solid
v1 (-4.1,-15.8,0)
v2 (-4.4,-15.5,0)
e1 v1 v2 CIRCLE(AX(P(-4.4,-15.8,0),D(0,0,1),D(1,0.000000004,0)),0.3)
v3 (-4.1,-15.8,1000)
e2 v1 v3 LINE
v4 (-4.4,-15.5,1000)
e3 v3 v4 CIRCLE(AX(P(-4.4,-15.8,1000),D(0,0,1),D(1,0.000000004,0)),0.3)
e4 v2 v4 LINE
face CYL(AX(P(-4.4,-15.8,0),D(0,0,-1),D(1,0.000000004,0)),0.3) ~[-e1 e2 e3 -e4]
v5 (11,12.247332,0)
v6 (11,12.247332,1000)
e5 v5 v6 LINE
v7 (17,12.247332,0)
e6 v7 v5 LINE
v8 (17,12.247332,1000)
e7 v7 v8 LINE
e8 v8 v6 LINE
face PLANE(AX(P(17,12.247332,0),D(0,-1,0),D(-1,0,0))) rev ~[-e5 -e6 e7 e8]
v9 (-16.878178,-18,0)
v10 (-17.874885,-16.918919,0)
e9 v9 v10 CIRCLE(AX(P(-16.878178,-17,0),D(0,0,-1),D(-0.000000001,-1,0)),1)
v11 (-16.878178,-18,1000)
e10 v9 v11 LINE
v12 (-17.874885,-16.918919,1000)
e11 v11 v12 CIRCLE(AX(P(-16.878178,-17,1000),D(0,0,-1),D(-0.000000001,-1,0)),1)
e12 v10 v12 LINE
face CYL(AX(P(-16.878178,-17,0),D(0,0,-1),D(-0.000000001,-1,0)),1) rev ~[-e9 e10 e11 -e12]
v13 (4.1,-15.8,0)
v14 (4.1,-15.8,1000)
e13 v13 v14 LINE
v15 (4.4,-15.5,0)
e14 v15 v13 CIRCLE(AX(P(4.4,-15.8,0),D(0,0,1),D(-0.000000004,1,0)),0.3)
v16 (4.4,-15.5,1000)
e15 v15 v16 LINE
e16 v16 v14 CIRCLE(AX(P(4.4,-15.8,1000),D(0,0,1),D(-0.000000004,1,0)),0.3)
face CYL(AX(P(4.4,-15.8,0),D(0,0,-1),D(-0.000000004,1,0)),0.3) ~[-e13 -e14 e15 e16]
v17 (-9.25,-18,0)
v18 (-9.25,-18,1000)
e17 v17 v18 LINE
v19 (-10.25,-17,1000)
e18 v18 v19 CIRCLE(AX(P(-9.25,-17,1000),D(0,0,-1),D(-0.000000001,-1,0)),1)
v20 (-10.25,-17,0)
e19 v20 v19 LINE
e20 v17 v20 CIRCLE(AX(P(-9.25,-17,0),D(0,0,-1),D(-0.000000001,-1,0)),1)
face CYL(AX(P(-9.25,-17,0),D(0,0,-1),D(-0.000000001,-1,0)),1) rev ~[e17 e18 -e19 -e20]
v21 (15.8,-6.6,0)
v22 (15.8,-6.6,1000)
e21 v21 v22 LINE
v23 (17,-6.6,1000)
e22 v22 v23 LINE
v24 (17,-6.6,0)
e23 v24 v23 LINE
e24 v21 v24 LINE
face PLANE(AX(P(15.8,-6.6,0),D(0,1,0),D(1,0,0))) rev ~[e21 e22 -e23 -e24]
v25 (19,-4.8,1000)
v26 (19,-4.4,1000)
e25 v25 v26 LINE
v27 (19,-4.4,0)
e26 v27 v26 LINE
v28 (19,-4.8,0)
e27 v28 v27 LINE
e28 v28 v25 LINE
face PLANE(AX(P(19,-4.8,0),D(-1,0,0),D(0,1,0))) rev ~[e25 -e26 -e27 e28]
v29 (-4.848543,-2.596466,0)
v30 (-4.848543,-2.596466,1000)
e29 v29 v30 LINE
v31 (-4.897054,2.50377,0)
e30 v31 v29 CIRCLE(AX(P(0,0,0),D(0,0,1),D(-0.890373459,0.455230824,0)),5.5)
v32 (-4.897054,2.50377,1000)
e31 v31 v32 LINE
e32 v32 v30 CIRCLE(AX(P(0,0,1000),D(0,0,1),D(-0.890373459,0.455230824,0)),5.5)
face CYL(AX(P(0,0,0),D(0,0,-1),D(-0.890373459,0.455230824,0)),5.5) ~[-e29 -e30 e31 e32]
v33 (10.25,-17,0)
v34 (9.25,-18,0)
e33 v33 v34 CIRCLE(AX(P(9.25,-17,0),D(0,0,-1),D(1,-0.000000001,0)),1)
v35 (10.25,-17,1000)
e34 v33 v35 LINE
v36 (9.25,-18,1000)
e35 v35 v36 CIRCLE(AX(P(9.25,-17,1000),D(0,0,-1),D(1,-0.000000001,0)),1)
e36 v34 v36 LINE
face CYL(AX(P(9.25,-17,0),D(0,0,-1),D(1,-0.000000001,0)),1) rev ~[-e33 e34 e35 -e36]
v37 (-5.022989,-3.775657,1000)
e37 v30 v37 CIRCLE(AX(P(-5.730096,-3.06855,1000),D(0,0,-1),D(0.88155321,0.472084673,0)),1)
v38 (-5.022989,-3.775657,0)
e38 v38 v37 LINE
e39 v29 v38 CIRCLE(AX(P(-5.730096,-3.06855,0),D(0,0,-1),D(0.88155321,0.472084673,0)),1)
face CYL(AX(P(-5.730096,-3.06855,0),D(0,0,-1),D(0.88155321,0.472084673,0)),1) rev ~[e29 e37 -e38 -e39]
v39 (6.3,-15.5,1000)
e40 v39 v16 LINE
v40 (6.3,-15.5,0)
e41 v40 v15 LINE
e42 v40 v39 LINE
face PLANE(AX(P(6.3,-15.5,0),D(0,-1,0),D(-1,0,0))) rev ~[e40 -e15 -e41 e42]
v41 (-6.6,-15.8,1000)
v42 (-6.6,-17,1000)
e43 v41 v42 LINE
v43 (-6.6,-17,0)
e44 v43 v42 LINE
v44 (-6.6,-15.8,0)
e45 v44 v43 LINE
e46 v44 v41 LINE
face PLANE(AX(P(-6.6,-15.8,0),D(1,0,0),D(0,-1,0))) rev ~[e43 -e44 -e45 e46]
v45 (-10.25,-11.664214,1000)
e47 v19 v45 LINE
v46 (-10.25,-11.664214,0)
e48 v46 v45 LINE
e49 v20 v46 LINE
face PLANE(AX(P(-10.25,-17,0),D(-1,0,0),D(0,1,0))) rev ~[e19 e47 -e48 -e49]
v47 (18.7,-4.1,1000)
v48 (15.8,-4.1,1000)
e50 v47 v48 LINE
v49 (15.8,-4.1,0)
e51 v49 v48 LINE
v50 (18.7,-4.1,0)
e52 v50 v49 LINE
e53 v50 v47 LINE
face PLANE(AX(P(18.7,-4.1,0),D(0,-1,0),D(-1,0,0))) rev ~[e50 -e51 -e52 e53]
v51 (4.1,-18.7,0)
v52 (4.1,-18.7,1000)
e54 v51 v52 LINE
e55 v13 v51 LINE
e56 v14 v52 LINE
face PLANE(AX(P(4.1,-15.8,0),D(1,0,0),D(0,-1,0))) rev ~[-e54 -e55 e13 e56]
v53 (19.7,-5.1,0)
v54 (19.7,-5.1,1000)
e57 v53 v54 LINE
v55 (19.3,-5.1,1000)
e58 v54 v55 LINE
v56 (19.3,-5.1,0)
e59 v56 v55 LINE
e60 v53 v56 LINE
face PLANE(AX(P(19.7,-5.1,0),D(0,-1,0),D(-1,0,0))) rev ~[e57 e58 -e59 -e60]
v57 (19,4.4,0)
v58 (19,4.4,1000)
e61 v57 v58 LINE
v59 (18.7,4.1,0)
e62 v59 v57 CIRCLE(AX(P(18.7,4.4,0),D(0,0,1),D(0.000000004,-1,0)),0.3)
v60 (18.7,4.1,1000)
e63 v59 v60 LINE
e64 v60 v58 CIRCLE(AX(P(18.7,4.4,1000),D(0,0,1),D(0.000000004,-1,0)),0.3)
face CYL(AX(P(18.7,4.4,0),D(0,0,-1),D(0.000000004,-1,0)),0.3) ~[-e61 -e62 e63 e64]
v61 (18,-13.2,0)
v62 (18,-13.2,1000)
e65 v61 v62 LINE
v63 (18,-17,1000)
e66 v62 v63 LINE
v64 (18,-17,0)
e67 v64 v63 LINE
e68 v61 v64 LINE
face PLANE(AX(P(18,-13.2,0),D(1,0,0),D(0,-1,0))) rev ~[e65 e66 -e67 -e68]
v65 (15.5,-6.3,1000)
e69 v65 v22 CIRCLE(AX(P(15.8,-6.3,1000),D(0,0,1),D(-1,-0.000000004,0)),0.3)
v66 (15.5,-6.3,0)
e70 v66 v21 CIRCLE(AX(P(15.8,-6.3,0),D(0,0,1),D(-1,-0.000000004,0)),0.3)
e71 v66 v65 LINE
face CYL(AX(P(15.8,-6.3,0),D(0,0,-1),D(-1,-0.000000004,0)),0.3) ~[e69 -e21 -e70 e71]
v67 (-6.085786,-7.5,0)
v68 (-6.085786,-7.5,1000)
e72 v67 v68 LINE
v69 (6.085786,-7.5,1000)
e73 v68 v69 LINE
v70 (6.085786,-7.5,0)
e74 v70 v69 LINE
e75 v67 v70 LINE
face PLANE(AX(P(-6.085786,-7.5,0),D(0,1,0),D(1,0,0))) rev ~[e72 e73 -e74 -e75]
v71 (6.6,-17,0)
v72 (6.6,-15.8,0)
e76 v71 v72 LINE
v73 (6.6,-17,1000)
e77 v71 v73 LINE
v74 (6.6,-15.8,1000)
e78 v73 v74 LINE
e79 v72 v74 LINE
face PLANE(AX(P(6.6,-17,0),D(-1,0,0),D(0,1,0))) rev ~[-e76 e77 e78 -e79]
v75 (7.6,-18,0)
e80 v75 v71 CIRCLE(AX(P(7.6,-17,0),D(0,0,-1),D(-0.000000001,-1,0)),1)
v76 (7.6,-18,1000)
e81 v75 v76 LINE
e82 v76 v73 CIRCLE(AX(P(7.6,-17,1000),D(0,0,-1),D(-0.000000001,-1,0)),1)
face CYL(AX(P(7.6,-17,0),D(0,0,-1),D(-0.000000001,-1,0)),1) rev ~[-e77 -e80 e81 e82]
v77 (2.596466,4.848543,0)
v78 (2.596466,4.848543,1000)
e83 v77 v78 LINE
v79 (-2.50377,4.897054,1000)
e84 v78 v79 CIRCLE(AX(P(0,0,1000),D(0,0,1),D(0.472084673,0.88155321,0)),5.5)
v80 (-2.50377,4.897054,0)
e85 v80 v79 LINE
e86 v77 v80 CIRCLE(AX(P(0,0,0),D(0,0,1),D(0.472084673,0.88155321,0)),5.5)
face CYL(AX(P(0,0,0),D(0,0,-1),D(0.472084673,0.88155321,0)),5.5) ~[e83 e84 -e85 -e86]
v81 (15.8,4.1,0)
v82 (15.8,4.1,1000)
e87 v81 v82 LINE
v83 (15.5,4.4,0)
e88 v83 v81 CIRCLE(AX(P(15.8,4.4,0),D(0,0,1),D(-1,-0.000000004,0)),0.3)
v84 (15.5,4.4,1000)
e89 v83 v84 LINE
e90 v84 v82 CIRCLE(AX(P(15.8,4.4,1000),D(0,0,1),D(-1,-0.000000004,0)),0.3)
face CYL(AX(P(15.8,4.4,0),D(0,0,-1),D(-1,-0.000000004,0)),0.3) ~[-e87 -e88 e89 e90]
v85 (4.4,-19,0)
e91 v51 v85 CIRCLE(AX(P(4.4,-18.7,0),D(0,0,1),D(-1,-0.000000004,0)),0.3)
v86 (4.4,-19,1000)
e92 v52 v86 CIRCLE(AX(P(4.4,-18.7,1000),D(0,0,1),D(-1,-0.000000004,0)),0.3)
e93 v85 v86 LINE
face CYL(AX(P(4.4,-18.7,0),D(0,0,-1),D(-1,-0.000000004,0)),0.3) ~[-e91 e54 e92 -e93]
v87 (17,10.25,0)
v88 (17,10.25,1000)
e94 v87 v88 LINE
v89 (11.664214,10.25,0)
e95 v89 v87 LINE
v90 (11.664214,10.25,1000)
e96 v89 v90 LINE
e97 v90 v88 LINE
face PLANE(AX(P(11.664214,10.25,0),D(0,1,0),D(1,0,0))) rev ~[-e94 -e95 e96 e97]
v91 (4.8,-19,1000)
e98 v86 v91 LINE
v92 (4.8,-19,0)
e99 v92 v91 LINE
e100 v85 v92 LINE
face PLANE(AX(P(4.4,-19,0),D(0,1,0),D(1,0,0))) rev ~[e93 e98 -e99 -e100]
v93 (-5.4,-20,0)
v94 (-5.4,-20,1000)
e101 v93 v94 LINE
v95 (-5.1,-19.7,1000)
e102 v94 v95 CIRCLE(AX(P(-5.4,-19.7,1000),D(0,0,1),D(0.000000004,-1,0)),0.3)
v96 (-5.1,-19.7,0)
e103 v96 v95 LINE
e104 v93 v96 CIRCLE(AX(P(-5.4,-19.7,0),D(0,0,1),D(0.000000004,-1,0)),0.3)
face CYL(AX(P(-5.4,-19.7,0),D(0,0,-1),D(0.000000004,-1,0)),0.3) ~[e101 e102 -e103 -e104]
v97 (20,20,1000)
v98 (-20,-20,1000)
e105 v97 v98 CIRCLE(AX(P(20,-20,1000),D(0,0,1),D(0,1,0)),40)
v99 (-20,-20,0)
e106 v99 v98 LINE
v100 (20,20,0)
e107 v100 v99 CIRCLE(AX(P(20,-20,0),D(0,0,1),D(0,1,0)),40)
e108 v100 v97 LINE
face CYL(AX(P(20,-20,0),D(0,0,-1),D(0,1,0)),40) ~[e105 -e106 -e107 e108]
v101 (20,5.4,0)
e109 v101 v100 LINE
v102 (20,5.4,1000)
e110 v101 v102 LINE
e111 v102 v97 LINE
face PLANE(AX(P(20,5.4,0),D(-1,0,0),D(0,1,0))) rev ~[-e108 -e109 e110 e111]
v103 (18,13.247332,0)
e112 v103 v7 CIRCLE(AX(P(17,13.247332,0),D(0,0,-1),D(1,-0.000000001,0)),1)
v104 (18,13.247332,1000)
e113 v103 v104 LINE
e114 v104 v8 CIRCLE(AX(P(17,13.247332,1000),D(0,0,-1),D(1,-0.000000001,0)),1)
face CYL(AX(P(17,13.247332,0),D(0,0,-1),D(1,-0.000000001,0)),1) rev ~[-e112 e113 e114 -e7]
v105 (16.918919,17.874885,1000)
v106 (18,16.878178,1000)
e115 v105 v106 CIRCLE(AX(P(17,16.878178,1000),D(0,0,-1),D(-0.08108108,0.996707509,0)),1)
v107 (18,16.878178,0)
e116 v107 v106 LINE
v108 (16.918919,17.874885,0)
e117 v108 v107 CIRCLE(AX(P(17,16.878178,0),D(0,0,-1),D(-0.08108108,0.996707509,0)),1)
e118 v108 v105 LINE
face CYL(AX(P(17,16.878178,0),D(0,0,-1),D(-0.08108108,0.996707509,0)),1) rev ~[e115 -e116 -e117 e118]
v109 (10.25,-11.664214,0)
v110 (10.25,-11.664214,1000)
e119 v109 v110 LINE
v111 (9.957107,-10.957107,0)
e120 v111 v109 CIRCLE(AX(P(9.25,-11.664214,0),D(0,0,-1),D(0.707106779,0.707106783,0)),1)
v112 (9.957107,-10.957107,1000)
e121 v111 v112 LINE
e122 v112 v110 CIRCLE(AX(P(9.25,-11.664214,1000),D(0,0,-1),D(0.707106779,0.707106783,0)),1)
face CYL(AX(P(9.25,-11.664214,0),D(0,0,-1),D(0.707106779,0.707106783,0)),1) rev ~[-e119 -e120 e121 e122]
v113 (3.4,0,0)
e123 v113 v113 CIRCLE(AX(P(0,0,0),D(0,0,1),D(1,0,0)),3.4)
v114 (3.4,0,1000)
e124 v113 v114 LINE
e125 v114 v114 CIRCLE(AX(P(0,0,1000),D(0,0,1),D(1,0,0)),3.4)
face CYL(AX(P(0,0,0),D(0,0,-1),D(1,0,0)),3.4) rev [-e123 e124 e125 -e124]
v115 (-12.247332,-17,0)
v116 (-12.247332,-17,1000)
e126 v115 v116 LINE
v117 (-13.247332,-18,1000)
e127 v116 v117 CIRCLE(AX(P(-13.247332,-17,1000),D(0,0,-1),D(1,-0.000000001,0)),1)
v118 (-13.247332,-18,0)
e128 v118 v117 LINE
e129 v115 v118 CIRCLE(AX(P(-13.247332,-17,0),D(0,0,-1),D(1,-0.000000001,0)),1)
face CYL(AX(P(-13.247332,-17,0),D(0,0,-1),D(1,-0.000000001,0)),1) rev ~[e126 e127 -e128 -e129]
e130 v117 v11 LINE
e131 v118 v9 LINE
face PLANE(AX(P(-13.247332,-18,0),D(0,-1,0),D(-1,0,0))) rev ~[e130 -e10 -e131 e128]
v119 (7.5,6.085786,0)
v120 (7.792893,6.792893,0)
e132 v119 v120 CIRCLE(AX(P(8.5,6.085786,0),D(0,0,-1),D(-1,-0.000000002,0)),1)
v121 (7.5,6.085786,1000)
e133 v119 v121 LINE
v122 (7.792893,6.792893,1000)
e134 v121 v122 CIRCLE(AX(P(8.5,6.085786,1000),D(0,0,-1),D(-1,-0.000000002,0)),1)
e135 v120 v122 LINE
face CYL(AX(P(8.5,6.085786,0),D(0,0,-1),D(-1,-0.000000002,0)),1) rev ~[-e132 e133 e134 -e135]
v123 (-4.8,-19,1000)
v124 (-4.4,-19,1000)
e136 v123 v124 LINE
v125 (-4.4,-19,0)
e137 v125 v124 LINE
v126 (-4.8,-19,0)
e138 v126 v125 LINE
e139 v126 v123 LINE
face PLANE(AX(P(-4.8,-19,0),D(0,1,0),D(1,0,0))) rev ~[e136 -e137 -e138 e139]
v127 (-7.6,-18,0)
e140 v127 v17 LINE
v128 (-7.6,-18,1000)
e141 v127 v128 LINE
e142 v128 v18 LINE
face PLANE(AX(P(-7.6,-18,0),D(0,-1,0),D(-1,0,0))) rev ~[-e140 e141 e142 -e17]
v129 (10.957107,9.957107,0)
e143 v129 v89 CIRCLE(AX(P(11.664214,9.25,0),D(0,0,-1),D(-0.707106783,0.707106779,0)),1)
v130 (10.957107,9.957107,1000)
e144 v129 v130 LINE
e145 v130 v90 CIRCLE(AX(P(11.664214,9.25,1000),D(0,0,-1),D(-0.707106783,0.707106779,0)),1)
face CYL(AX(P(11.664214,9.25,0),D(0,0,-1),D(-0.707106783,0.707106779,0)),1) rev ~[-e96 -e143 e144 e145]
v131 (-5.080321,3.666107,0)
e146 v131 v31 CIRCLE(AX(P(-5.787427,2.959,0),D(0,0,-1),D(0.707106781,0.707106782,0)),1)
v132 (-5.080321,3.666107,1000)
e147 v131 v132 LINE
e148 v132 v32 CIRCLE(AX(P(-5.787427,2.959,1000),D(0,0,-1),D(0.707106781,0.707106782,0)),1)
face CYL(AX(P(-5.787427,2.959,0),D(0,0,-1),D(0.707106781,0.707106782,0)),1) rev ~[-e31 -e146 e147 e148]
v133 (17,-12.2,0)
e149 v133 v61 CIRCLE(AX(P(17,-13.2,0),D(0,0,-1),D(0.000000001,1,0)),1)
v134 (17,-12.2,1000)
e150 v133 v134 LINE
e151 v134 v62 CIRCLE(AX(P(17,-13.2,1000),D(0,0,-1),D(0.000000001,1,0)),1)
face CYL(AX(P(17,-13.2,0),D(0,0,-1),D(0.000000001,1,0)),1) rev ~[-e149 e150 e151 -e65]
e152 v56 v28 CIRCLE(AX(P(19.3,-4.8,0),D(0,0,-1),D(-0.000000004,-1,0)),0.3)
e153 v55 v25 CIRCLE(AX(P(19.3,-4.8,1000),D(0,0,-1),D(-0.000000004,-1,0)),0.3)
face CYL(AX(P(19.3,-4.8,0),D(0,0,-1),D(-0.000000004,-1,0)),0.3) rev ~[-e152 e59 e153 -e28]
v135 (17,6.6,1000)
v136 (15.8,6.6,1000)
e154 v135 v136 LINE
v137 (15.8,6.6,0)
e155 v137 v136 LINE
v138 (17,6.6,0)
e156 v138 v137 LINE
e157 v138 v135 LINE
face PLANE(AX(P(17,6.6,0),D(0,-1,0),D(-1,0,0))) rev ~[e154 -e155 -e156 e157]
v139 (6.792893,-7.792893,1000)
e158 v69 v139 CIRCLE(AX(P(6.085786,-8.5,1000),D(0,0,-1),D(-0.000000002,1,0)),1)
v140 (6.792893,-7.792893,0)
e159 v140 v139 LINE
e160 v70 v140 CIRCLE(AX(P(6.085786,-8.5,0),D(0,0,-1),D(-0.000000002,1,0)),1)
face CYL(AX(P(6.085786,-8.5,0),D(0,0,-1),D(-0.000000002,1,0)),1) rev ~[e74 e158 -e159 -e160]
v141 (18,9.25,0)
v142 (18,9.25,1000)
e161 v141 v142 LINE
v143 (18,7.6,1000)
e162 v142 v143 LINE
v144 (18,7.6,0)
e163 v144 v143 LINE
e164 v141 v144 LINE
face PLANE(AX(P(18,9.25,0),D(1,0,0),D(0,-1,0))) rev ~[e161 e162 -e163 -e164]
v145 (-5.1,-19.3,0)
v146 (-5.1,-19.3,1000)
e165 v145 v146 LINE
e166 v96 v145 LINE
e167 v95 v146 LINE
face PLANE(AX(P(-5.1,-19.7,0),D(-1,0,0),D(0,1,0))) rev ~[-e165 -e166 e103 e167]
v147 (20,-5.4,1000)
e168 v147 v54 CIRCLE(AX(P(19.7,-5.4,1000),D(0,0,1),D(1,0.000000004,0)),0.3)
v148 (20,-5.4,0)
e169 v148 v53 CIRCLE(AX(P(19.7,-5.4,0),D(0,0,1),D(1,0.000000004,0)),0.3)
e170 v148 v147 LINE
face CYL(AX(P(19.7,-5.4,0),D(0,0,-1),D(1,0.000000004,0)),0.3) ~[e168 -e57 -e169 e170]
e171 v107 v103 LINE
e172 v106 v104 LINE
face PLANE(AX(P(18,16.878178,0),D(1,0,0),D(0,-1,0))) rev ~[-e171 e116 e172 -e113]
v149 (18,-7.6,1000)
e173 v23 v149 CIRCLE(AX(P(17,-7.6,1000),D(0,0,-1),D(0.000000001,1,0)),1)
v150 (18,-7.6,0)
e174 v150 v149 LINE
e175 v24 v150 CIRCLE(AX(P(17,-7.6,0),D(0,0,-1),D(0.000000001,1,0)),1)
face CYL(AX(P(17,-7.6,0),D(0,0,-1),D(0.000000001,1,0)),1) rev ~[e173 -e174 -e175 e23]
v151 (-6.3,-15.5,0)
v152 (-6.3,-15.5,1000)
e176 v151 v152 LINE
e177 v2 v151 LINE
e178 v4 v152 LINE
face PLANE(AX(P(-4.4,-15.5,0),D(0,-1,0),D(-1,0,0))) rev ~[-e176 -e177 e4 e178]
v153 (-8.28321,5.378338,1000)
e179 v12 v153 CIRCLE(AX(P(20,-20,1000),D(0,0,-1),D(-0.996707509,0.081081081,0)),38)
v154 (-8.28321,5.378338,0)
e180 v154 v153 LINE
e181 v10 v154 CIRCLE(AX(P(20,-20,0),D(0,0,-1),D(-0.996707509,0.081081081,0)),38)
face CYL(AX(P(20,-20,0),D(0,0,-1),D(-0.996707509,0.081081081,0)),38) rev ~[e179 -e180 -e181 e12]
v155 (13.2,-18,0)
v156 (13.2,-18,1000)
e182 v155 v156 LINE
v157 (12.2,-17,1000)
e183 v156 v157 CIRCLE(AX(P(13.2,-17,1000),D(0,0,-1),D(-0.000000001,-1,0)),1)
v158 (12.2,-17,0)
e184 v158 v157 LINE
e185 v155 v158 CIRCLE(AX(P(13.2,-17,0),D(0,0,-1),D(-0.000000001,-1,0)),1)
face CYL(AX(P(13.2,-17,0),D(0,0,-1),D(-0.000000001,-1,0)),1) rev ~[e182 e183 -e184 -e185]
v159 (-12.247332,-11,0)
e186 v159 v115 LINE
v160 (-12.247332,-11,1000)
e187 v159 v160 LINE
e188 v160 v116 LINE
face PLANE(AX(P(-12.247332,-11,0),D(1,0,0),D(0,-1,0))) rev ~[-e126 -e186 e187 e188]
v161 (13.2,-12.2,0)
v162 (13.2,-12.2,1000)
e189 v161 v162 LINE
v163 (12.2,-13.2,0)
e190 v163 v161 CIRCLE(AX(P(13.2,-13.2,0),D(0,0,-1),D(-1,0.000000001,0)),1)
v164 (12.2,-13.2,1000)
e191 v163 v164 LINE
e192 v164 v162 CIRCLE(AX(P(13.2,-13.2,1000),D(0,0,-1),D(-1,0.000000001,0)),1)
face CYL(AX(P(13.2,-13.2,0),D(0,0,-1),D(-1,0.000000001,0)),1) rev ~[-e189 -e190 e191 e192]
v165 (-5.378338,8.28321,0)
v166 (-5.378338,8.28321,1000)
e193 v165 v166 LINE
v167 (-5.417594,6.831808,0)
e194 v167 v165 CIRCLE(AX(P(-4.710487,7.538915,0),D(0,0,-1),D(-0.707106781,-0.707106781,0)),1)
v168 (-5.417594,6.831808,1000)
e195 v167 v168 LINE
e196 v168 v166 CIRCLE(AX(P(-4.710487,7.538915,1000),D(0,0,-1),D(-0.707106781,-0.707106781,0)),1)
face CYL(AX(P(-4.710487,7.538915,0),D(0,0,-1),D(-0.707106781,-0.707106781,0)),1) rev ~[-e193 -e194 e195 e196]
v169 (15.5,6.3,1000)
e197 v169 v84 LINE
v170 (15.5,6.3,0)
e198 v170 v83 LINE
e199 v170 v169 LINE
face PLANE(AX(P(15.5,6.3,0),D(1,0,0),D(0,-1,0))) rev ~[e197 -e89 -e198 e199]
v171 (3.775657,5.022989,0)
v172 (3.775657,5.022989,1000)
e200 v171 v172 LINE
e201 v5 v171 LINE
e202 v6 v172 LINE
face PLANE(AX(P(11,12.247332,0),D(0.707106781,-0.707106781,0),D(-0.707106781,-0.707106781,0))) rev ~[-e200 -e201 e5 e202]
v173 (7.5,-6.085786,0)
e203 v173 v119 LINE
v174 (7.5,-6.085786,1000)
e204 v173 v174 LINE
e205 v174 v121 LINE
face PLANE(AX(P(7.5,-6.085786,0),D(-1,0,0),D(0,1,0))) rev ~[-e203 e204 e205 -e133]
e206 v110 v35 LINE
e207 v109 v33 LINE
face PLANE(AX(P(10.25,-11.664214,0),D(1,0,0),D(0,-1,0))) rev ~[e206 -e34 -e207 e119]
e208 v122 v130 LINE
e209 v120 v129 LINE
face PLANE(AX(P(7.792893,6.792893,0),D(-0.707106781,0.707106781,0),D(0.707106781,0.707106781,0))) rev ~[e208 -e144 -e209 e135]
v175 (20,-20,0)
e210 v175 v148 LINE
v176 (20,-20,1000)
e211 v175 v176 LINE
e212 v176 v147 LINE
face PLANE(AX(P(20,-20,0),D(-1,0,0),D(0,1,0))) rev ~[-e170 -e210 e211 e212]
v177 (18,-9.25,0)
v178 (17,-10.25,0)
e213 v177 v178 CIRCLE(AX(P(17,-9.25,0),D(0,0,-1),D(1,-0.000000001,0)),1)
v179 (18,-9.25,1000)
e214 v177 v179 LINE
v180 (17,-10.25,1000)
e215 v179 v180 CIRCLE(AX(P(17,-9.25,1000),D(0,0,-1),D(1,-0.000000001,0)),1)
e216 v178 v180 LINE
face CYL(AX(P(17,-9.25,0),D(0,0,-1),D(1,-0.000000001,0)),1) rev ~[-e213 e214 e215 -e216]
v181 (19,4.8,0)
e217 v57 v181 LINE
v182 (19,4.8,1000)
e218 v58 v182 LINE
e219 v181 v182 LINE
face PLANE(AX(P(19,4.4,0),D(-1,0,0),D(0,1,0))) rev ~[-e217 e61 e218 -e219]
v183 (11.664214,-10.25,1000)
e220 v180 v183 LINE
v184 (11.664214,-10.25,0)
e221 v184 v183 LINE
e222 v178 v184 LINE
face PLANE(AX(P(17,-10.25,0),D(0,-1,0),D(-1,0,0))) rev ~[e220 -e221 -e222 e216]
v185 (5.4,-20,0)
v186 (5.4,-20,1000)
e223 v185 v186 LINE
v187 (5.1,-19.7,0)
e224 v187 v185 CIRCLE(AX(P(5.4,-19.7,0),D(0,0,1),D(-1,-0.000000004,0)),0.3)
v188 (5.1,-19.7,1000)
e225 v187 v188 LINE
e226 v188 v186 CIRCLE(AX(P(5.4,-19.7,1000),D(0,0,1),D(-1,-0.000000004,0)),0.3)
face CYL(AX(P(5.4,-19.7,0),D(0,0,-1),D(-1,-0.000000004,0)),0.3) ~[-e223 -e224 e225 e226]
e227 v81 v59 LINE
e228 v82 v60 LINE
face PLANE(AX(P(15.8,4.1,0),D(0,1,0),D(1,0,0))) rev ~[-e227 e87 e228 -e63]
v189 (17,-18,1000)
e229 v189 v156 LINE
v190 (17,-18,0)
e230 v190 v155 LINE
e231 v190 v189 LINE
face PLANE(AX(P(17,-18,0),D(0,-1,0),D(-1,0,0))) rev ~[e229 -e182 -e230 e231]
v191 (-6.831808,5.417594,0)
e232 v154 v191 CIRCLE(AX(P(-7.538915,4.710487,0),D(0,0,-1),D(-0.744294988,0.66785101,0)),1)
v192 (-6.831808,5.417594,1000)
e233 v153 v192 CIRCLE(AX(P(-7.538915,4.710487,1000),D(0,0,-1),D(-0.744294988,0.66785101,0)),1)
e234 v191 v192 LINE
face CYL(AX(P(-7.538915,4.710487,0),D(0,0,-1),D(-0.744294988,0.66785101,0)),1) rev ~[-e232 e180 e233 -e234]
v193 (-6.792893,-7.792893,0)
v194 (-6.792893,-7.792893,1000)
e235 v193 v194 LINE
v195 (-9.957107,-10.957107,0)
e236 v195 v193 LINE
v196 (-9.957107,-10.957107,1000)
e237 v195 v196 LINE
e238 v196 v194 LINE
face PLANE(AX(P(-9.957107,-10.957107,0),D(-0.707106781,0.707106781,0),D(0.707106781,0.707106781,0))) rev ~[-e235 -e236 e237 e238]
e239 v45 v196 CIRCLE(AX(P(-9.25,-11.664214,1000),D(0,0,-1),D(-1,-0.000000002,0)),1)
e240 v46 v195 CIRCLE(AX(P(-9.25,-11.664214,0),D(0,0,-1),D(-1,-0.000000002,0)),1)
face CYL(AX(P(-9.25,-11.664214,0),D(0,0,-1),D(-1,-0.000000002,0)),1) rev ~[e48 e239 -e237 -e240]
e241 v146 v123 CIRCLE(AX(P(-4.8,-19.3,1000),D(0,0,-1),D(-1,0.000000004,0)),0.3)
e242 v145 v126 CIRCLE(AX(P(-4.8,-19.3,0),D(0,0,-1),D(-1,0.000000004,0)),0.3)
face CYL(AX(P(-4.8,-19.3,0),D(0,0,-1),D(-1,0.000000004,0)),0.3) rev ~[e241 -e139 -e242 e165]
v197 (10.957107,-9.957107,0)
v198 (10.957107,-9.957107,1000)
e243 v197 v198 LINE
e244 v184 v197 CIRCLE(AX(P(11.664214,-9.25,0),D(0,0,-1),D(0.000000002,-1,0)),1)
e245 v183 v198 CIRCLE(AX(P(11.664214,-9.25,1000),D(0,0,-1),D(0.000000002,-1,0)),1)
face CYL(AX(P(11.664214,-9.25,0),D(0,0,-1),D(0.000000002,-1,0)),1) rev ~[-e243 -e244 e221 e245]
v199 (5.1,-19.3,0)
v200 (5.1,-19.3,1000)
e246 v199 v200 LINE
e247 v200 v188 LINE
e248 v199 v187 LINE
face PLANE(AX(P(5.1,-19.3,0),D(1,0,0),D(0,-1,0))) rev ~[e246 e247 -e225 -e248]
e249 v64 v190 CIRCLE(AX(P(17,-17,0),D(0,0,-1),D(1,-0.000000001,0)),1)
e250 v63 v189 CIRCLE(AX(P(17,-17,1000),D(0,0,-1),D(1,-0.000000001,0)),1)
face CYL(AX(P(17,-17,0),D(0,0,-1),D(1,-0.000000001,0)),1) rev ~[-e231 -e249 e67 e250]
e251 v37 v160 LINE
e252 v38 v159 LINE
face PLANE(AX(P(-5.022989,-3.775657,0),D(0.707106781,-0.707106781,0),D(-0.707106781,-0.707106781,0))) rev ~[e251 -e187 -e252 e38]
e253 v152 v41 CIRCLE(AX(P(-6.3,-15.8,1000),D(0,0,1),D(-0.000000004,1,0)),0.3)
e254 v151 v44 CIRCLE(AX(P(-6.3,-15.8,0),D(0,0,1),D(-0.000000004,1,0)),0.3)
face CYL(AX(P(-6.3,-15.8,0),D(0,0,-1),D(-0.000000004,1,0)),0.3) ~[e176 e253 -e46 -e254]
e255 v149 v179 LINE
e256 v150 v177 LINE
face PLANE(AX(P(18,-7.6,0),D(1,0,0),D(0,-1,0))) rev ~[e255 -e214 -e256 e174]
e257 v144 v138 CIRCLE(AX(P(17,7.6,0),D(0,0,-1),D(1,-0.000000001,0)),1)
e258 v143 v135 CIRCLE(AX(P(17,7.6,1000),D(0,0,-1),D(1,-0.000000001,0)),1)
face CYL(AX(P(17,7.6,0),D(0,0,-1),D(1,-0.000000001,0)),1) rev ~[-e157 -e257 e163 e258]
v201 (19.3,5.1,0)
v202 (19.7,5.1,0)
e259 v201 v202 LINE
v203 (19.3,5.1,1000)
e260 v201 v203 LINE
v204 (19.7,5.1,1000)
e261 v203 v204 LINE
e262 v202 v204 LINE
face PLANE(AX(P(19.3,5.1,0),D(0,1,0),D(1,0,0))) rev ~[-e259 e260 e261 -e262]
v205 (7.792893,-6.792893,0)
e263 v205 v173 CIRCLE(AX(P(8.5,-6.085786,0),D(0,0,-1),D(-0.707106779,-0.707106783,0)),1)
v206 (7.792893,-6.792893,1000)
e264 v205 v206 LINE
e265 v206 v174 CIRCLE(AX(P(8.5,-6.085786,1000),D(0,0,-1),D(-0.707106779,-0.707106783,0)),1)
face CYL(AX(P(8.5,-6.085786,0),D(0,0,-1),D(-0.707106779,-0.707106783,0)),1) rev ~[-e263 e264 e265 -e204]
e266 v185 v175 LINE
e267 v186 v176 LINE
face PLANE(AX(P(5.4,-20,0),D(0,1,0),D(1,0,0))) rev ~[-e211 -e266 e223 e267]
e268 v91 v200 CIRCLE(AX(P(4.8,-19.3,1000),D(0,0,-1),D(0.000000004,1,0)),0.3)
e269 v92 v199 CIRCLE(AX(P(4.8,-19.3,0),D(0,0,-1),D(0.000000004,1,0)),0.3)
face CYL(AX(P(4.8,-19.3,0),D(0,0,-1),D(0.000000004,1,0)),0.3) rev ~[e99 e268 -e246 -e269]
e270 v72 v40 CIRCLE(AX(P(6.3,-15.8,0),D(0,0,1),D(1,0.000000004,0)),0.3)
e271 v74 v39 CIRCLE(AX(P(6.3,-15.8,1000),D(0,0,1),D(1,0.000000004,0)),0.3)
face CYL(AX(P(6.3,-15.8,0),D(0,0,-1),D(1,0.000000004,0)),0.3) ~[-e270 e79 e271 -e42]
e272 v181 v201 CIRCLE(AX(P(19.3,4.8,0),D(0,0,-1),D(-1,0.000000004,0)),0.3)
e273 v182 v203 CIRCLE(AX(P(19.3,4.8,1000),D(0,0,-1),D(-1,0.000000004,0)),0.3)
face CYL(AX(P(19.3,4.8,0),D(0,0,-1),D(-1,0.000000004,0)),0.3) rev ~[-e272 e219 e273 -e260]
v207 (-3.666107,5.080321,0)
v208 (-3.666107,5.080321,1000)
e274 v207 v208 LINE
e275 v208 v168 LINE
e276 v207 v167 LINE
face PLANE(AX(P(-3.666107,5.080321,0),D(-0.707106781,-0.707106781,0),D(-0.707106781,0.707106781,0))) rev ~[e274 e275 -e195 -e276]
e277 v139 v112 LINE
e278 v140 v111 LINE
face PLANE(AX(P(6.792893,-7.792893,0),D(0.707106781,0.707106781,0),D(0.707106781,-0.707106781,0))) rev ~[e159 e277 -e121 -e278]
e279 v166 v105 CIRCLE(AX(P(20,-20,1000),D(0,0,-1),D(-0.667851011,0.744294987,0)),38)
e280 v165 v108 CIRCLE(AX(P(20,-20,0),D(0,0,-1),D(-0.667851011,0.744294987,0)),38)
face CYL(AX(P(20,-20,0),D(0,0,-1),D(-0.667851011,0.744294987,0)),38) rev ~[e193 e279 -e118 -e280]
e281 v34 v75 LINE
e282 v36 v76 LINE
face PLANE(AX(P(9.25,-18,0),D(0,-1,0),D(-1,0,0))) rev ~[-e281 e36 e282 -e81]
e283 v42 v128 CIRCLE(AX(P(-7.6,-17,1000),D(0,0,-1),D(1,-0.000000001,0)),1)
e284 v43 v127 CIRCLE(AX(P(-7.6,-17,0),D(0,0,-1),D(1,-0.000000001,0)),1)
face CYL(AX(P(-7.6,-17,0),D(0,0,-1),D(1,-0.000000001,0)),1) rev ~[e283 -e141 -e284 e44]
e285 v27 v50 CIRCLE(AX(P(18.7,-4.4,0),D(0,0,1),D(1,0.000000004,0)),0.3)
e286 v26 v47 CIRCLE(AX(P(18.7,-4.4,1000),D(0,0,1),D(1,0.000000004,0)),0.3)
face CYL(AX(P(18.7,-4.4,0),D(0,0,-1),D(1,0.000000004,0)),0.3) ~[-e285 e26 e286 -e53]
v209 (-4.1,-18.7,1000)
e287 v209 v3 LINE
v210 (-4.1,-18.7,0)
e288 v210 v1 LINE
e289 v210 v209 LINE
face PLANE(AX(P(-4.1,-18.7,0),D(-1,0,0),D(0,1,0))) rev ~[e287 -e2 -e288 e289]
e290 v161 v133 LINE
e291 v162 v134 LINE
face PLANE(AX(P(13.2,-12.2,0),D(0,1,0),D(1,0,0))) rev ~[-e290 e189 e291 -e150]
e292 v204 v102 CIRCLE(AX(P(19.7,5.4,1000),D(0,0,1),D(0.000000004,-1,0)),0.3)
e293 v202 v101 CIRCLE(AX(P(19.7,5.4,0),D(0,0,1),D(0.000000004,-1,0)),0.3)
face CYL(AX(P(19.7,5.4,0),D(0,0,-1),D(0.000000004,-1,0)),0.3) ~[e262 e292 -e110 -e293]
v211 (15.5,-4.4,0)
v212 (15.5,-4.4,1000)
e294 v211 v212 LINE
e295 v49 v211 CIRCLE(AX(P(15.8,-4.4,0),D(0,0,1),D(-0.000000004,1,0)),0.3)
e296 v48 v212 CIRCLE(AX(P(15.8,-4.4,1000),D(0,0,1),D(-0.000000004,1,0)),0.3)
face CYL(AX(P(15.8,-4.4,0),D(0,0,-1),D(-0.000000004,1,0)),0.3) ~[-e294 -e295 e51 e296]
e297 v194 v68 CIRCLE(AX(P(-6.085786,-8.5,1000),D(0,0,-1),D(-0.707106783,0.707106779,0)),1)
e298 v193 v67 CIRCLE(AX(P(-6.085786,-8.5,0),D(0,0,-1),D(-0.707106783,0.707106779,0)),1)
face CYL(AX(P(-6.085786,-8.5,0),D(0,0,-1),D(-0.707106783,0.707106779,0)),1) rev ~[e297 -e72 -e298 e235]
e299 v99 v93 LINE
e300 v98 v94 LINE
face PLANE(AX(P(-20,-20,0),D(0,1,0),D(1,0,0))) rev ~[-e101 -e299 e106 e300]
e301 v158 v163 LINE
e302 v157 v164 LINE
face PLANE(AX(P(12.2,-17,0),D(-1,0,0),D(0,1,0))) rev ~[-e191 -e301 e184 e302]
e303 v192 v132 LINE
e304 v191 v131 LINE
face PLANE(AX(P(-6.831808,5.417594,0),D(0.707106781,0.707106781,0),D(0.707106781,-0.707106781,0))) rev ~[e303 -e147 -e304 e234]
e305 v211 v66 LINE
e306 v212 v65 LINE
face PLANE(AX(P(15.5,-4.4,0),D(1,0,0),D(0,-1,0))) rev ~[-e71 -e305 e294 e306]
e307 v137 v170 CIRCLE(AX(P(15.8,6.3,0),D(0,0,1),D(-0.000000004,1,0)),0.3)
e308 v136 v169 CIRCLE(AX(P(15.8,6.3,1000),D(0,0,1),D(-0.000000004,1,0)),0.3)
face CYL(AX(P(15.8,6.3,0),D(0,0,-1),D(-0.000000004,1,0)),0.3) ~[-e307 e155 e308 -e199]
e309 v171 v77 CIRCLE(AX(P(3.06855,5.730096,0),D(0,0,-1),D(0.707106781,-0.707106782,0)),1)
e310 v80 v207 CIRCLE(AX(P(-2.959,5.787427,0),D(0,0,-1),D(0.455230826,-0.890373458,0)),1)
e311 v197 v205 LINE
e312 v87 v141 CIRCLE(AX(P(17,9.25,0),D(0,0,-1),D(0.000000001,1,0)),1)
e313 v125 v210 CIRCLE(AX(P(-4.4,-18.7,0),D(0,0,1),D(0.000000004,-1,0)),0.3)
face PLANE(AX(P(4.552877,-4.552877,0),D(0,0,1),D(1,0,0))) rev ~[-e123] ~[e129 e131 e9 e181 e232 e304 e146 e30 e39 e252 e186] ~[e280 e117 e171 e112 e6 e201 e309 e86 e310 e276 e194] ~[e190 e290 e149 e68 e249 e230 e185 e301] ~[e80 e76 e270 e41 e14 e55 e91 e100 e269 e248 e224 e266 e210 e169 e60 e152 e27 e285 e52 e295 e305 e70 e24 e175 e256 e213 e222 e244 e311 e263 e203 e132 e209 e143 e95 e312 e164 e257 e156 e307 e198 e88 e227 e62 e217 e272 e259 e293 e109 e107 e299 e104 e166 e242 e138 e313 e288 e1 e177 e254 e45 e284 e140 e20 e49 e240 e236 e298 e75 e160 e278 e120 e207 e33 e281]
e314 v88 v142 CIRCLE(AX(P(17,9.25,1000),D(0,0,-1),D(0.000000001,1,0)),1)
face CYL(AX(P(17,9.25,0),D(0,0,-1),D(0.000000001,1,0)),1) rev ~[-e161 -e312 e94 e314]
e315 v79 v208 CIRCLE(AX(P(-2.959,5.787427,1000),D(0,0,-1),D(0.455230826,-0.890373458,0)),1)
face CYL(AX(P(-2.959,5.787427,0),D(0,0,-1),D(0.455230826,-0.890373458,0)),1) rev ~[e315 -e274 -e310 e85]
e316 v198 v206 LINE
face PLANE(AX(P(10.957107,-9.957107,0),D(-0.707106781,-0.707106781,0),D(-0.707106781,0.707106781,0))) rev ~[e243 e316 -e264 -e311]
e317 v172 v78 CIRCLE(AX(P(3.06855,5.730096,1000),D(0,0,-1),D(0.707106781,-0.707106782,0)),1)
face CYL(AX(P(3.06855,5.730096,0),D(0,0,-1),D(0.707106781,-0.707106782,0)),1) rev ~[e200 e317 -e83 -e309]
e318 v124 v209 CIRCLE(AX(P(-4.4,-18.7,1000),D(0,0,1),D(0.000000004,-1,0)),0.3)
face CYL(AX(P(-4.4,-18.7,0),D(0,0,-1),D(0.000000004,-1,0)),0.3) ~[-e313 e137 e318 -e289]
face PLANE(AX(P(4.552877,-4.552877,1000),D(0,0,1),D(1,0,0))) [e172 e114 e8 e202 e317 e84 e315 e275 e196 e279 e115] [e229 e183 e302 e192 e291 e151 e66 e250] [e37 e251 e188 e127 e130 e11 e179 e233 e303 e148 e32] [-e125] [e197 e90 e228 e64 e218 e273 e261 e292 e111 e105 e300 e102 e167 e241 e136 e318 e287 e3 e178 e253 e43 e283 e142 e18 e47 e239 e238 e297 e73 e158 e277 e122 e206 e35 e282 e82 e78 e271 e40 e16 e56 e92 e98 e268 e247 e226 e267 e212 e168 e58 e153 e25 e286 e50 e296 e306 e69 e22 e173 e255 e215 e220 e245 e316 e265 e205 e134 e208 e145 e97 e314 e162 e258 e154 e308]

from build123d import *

# Parameters (mm, degrees)
SKETCH_1_R      = 3.4
EXTRUDE_1_DEPTH = 1000


with BuildPart() as part:
    # Эскиз1 → Бобышка-Вытянуть1 (new body)
    with BuildSketch(Plane.XY):
        with BuildLine():
            Line((5.4, -20), (10.25, -20))
            Line((10.25, -20), (20, -20))
            Line((20, -20), (20, -10.25))
            Line((20, -10.25), (20, -5.4))
            ThreePointArc((20, -5.4), (19.912132034, -5.187867966), (19.7, -5.1))
            Line((19.7, -5.1), (19.3, -5.1))
            ThreePointArc((19.3, -5.1), (19.087867966, -5.012132034), (19, -4.8))
            Line((19, -4.8), (19, -4.4))
            ThreePointArc((19, -4.4), (18.912132034, -4.187867966), (18.7, -4.1))
            Line((18.7, -4.1), (15.8, -4.1))
            ThreePointArc((15.8, -4.1), (15.587867966, -4.187867966), (15.5, -4.4))
            Line((15.5, -4.4), (15.5, -6.3))
            ThreePointArc((15.5, -6.3), (15.587867966, -6.512132034), (15.8, -6.6))
            Line((15.8, -6.6), (17, -6.6))
            ThreePointArc((17, -6.6), (17.707106781, -6.892893219), (18, -7.6))
            Line((18, -7.6), (18, -9.25))
            ThreePointArc((18, -9.25), (17.707106781, -9.957106781), (17, -10.25))
            Line((17, -10.25), (11.664213562, -10.25))
            ThreePointArc((11.664213562, -10.25), (11.28153013, -10.173879533), (10.957106781, -9.957106781))
            Line((10.957106781, -9.957106781), (7.792893219, -6.792893219))
            ThreePointArc((7.792893219, -6.792893219), (7.576120467, -6.46846987), (7.5, -6.085786438))
            Line((7.5, -6.085786438), (7.5, 6.085786438))
            ThreePointArc((7.5, 6.085786438), (7.576120467, 6.46846987), (7.792893219, 6.792893219))
            Line((7.792893219, 6.792893219), (10.957106781, 9.957106781))
            ThreePointArc((10.957106781, 9.957106781), (11.28153013, 10.173879533), (11.664213562, 10.25))
            Line((11.664213562, 10.25), (17, 10.25))
            ThreePointArc((17, 10.25), (17.707106781, 9.957106781), (18, 9.25))
            Line((18, 9.25), (18, 7.6))
            ThreePointArc((18, 7.6), (17.707106781, 6.892893219), (17, 6.6))
            Line((17, 6.6), (15.8, 6.6))
            ThreePointArc((15.8, 6.6), (15.587867966, 6.512132034), (15.5, 6.3))
            Line((15.5, 6.3), (15.5, 4.4))
            ThreePointArc((15.5, 4.4), (15.587867966, 4.187867966), (15.8, 4.1))
            Line((15.8, 4.1), (18.7, 4.1))
            ThreePointArc((18.7, 4.1), (18.912132034, 4.187867966), (19, 4.4))
            Line((19, 4.4), (19, 4.8))
            ThreePointArc((19, 4.8), (19.087867966, 5.012132034), (19.3, 5.1))
            Line((19.3, 5.1), (19.7, 5.1))
            ThreePointArc((19.7, 5.1), (19.912132034, 5.187867966), (20, 5.4))
            Line((20, 5.4), (20, 10.25))
            Line((20, 10.25), (20, 20))
            ThreePointArc((20, 20), (-8.284271247, 8.284271247), (-20, -20))
            Line((-20, -20), (-10.25, -20))
            Line((-10.25, -20), (-5.4, -20))
            ThreePointArc((-5.4, -20), (-5.187867966, -19.912132034), (-5.1, -19.7))
            Line((-5.1, -19.7), (-5.1, -19.3))
            ThreePointArc((-5.1, -19.3), (-5.012132034, -19.087867966), (-4.8, -19))
            Line((-4.8, -19), (-4.4, -19))
            ThreePointArc((-4.4, -19), (-4.187867966, -18.912132034), (-4.1, -18.7))
            Line((-4.1, -18.7), (-4.1, -15.8))
            ThreePointArc((-4.1, -15.8), (-4.187867966, -15.587867966), (-4.4, -15.5))
            Line((-4.4, -15.5), (-6.3, -15.5))
            ThreePointArc((-6.3, -15.5), (-6.512132034, -15.587867966), (-6.6, -15.8))
            Line((-6.6, -15.8), (-6.6, -17))
            ThreePointArc((-6.6, -17), (-6.892893219, -17.707106781), (-7.6, -18))
            Line((-7.6, -18), (-9.25, -18))
            ThreePointArc((-9.25, -18), (-9.957106781, -17.707106781), (-10.25, -17))
            Line((-10.25, -17), (-10.25, -11.664213562))
            ThreePointArc((-10.25, -11.664213562), (-10.173879533, -11.28153013), (-9.957106781, -10.957106781))
            Line((-9.957106781, -10.957106781), (-6.792893219, -7.792893219))
            ThreePointArc((-6.792893219, -7.792893219), (-6.46846987, -7.576120467), (-6.085786438, -7.5))
            Line((-6.085786438, -7.5), (6.085786438, -7.5))
            ThreePointArc((6.085786438, -7.5), (6.46846987, -7.576120467), (6.792893219, -7.792893219))
            Line((6.792893219, -7.792893219), (9.957106781, -10.957106781))
            ThreePointArc((9.957106781, -10.957106781), (10.173879533, -11.28153013), (10.25, -11.664213562))
            Line((10.25, -11.664213562), (10.25, -17))
            ThreePointArc((10.25, -17), (9.957106781, -17.707106781), (9.25, -18))
            Line((9.25, -18), (7.6, -18))
            ThreePointArc((7.6, -18), (6.892893219, -17.707106781), (6.6, -17))
            Line((6.6, -17), (6.6, -15.8))
            ThreePointArc((6.6, -15.8), (6.512132034, -15.587867966), (6.3, -15.5))
            Line((6.3, -15.5), (4.4, -15.5))
            ThreePointArc((4.4, -15.5), (4.187867966, -15.587867966), (4.1, -15.8))
            Line((4.1, -15.8), (4.1, -18.7))
            ThreePointArc((4.1, -18.7), (4.187867966, -18.912132034), (4.4, -19))
            Line((4.4, -19), (4.8, -19))
            ThreePointArc((4.8, -19), (5.012132034, -19.087867966), (5.1, -19.3))
            Line((5.1, -19.3), (5.1, -19.7))
            ThreePointArc((5.1, -19.7), (5.187867966, -19.912132034), (5.4, -20))
        make_face()
        with BuildLine():
            Line((-13.247331922, -18), (-16.878177829, -18))
            ThreePointArc((-16.878177829, -18), (-17.613392451, -17.677834389), (-17.874885338, -16.918918919))
            ThreePointArc((-17.874885338, -16.918918919), (-14.907238495, -4.983852003), (-8.283209505, 5.378338403))
            ThreePointArc((-8.283209505, 5.378338403), (-7.565951428, 5.710121829), (-6.831807736, 5.417594174))
            Line((-6.831807736, 5.417594174), (-5.080320702, 3.66610714))
            ThreePointArc((-5.080320702, 3.66610714), (-4.799630461, 3.114747086), (-4.897054025, 2.503769534))
            ThreePointArc((-4.897054025, 2.503769534), (-5.499751223, -0.052311407), (-4.848542652, -2.596465704))
            ThreePointArc((-4.848542652, -2.596465704), (-4.740862187, -3.21489496), (-5.02298908, -3.775657158))
            Line((-5.02298908, -3.775657158), (-12.247331922, -11))
            Line((-12.247331922, -11), (-12.247331922, -17))
            ThreePointArc((-12.247331922, -17), (-12.540225141, -17.707106781), (-13.247331922, -18))
        make_face(mode=Mode.SUBTRACT)
        with BuildLine():
            ThreePointArc((12.2, -13.2), (12.492893219, -12.492893219), (13.2, -12.2))
            Line((13.2, -12.2), (17, -12.2))
            ThreePointArc((17, -12.2), (17.707106781, -12.492893219), (18, -13.2))
            Line((18, -13.2), (18, -17))
            ThreePointArc((18, -17), (17.707106781, -17.707106781), (17, -18))
            Line((17, -18), (13.2, -18))
            ThreePointArc((13.2, -18), (12.492893219, -17.707106781), (12.2, -17))
            Line((12.2, -17), (12.2, -13.2))
        make_face(mode=Mode.SUBTRACT)
        Circle(SKETCH_1_R, mode=Mode.SUBTRACT)
        with BuildLine():
            Line((-3.66610714, 5.080320702), (-5.417594174, 6.831807736))
            ThreePointArc((-5.417594174, 6.831807736), (-5.710121829, 7.565951428), (-5.378338403, 8.283209505))
            ThreePointArc((-5.378338403, 8.283209505), (4.983852003, 14.907238495), (16.918918919, 17.874885338))
            ThreePointArc((16.918918919, 17.874885338), (17.677834389, 17.613392451), (18, 16.878177829))
            Line((18, 16.878177829), (18, 13.247331922))
            ThreePointArc((18, 13.247331922), (17.707106781, 12.540225141), (17, 12.247331922))
            Line((17, 12.247331922), (11, 12.247331922))
            Line((11, 12.247331922), (3.775657158, 5.02298908))
            ThreePointArc((3.775657158, 5.02298908), (3.21489496, 4.740862187), (2.596465704, 4.848542652))
            ThreePointArc((2.596465704, 4.848542652), (0.052311407, 5.499751223), (-2.503769534, 4.897054025))
            ThreePointArc((-2.503769534, 4.897054025), (-3.114747086, 4.799630461), (-3.66610714, 5.080320702))
        make_face(mode=Mode.SUBTRACT)
    extrude(amount=EXTRUDE_1_DEPTH)


solid = part.part
